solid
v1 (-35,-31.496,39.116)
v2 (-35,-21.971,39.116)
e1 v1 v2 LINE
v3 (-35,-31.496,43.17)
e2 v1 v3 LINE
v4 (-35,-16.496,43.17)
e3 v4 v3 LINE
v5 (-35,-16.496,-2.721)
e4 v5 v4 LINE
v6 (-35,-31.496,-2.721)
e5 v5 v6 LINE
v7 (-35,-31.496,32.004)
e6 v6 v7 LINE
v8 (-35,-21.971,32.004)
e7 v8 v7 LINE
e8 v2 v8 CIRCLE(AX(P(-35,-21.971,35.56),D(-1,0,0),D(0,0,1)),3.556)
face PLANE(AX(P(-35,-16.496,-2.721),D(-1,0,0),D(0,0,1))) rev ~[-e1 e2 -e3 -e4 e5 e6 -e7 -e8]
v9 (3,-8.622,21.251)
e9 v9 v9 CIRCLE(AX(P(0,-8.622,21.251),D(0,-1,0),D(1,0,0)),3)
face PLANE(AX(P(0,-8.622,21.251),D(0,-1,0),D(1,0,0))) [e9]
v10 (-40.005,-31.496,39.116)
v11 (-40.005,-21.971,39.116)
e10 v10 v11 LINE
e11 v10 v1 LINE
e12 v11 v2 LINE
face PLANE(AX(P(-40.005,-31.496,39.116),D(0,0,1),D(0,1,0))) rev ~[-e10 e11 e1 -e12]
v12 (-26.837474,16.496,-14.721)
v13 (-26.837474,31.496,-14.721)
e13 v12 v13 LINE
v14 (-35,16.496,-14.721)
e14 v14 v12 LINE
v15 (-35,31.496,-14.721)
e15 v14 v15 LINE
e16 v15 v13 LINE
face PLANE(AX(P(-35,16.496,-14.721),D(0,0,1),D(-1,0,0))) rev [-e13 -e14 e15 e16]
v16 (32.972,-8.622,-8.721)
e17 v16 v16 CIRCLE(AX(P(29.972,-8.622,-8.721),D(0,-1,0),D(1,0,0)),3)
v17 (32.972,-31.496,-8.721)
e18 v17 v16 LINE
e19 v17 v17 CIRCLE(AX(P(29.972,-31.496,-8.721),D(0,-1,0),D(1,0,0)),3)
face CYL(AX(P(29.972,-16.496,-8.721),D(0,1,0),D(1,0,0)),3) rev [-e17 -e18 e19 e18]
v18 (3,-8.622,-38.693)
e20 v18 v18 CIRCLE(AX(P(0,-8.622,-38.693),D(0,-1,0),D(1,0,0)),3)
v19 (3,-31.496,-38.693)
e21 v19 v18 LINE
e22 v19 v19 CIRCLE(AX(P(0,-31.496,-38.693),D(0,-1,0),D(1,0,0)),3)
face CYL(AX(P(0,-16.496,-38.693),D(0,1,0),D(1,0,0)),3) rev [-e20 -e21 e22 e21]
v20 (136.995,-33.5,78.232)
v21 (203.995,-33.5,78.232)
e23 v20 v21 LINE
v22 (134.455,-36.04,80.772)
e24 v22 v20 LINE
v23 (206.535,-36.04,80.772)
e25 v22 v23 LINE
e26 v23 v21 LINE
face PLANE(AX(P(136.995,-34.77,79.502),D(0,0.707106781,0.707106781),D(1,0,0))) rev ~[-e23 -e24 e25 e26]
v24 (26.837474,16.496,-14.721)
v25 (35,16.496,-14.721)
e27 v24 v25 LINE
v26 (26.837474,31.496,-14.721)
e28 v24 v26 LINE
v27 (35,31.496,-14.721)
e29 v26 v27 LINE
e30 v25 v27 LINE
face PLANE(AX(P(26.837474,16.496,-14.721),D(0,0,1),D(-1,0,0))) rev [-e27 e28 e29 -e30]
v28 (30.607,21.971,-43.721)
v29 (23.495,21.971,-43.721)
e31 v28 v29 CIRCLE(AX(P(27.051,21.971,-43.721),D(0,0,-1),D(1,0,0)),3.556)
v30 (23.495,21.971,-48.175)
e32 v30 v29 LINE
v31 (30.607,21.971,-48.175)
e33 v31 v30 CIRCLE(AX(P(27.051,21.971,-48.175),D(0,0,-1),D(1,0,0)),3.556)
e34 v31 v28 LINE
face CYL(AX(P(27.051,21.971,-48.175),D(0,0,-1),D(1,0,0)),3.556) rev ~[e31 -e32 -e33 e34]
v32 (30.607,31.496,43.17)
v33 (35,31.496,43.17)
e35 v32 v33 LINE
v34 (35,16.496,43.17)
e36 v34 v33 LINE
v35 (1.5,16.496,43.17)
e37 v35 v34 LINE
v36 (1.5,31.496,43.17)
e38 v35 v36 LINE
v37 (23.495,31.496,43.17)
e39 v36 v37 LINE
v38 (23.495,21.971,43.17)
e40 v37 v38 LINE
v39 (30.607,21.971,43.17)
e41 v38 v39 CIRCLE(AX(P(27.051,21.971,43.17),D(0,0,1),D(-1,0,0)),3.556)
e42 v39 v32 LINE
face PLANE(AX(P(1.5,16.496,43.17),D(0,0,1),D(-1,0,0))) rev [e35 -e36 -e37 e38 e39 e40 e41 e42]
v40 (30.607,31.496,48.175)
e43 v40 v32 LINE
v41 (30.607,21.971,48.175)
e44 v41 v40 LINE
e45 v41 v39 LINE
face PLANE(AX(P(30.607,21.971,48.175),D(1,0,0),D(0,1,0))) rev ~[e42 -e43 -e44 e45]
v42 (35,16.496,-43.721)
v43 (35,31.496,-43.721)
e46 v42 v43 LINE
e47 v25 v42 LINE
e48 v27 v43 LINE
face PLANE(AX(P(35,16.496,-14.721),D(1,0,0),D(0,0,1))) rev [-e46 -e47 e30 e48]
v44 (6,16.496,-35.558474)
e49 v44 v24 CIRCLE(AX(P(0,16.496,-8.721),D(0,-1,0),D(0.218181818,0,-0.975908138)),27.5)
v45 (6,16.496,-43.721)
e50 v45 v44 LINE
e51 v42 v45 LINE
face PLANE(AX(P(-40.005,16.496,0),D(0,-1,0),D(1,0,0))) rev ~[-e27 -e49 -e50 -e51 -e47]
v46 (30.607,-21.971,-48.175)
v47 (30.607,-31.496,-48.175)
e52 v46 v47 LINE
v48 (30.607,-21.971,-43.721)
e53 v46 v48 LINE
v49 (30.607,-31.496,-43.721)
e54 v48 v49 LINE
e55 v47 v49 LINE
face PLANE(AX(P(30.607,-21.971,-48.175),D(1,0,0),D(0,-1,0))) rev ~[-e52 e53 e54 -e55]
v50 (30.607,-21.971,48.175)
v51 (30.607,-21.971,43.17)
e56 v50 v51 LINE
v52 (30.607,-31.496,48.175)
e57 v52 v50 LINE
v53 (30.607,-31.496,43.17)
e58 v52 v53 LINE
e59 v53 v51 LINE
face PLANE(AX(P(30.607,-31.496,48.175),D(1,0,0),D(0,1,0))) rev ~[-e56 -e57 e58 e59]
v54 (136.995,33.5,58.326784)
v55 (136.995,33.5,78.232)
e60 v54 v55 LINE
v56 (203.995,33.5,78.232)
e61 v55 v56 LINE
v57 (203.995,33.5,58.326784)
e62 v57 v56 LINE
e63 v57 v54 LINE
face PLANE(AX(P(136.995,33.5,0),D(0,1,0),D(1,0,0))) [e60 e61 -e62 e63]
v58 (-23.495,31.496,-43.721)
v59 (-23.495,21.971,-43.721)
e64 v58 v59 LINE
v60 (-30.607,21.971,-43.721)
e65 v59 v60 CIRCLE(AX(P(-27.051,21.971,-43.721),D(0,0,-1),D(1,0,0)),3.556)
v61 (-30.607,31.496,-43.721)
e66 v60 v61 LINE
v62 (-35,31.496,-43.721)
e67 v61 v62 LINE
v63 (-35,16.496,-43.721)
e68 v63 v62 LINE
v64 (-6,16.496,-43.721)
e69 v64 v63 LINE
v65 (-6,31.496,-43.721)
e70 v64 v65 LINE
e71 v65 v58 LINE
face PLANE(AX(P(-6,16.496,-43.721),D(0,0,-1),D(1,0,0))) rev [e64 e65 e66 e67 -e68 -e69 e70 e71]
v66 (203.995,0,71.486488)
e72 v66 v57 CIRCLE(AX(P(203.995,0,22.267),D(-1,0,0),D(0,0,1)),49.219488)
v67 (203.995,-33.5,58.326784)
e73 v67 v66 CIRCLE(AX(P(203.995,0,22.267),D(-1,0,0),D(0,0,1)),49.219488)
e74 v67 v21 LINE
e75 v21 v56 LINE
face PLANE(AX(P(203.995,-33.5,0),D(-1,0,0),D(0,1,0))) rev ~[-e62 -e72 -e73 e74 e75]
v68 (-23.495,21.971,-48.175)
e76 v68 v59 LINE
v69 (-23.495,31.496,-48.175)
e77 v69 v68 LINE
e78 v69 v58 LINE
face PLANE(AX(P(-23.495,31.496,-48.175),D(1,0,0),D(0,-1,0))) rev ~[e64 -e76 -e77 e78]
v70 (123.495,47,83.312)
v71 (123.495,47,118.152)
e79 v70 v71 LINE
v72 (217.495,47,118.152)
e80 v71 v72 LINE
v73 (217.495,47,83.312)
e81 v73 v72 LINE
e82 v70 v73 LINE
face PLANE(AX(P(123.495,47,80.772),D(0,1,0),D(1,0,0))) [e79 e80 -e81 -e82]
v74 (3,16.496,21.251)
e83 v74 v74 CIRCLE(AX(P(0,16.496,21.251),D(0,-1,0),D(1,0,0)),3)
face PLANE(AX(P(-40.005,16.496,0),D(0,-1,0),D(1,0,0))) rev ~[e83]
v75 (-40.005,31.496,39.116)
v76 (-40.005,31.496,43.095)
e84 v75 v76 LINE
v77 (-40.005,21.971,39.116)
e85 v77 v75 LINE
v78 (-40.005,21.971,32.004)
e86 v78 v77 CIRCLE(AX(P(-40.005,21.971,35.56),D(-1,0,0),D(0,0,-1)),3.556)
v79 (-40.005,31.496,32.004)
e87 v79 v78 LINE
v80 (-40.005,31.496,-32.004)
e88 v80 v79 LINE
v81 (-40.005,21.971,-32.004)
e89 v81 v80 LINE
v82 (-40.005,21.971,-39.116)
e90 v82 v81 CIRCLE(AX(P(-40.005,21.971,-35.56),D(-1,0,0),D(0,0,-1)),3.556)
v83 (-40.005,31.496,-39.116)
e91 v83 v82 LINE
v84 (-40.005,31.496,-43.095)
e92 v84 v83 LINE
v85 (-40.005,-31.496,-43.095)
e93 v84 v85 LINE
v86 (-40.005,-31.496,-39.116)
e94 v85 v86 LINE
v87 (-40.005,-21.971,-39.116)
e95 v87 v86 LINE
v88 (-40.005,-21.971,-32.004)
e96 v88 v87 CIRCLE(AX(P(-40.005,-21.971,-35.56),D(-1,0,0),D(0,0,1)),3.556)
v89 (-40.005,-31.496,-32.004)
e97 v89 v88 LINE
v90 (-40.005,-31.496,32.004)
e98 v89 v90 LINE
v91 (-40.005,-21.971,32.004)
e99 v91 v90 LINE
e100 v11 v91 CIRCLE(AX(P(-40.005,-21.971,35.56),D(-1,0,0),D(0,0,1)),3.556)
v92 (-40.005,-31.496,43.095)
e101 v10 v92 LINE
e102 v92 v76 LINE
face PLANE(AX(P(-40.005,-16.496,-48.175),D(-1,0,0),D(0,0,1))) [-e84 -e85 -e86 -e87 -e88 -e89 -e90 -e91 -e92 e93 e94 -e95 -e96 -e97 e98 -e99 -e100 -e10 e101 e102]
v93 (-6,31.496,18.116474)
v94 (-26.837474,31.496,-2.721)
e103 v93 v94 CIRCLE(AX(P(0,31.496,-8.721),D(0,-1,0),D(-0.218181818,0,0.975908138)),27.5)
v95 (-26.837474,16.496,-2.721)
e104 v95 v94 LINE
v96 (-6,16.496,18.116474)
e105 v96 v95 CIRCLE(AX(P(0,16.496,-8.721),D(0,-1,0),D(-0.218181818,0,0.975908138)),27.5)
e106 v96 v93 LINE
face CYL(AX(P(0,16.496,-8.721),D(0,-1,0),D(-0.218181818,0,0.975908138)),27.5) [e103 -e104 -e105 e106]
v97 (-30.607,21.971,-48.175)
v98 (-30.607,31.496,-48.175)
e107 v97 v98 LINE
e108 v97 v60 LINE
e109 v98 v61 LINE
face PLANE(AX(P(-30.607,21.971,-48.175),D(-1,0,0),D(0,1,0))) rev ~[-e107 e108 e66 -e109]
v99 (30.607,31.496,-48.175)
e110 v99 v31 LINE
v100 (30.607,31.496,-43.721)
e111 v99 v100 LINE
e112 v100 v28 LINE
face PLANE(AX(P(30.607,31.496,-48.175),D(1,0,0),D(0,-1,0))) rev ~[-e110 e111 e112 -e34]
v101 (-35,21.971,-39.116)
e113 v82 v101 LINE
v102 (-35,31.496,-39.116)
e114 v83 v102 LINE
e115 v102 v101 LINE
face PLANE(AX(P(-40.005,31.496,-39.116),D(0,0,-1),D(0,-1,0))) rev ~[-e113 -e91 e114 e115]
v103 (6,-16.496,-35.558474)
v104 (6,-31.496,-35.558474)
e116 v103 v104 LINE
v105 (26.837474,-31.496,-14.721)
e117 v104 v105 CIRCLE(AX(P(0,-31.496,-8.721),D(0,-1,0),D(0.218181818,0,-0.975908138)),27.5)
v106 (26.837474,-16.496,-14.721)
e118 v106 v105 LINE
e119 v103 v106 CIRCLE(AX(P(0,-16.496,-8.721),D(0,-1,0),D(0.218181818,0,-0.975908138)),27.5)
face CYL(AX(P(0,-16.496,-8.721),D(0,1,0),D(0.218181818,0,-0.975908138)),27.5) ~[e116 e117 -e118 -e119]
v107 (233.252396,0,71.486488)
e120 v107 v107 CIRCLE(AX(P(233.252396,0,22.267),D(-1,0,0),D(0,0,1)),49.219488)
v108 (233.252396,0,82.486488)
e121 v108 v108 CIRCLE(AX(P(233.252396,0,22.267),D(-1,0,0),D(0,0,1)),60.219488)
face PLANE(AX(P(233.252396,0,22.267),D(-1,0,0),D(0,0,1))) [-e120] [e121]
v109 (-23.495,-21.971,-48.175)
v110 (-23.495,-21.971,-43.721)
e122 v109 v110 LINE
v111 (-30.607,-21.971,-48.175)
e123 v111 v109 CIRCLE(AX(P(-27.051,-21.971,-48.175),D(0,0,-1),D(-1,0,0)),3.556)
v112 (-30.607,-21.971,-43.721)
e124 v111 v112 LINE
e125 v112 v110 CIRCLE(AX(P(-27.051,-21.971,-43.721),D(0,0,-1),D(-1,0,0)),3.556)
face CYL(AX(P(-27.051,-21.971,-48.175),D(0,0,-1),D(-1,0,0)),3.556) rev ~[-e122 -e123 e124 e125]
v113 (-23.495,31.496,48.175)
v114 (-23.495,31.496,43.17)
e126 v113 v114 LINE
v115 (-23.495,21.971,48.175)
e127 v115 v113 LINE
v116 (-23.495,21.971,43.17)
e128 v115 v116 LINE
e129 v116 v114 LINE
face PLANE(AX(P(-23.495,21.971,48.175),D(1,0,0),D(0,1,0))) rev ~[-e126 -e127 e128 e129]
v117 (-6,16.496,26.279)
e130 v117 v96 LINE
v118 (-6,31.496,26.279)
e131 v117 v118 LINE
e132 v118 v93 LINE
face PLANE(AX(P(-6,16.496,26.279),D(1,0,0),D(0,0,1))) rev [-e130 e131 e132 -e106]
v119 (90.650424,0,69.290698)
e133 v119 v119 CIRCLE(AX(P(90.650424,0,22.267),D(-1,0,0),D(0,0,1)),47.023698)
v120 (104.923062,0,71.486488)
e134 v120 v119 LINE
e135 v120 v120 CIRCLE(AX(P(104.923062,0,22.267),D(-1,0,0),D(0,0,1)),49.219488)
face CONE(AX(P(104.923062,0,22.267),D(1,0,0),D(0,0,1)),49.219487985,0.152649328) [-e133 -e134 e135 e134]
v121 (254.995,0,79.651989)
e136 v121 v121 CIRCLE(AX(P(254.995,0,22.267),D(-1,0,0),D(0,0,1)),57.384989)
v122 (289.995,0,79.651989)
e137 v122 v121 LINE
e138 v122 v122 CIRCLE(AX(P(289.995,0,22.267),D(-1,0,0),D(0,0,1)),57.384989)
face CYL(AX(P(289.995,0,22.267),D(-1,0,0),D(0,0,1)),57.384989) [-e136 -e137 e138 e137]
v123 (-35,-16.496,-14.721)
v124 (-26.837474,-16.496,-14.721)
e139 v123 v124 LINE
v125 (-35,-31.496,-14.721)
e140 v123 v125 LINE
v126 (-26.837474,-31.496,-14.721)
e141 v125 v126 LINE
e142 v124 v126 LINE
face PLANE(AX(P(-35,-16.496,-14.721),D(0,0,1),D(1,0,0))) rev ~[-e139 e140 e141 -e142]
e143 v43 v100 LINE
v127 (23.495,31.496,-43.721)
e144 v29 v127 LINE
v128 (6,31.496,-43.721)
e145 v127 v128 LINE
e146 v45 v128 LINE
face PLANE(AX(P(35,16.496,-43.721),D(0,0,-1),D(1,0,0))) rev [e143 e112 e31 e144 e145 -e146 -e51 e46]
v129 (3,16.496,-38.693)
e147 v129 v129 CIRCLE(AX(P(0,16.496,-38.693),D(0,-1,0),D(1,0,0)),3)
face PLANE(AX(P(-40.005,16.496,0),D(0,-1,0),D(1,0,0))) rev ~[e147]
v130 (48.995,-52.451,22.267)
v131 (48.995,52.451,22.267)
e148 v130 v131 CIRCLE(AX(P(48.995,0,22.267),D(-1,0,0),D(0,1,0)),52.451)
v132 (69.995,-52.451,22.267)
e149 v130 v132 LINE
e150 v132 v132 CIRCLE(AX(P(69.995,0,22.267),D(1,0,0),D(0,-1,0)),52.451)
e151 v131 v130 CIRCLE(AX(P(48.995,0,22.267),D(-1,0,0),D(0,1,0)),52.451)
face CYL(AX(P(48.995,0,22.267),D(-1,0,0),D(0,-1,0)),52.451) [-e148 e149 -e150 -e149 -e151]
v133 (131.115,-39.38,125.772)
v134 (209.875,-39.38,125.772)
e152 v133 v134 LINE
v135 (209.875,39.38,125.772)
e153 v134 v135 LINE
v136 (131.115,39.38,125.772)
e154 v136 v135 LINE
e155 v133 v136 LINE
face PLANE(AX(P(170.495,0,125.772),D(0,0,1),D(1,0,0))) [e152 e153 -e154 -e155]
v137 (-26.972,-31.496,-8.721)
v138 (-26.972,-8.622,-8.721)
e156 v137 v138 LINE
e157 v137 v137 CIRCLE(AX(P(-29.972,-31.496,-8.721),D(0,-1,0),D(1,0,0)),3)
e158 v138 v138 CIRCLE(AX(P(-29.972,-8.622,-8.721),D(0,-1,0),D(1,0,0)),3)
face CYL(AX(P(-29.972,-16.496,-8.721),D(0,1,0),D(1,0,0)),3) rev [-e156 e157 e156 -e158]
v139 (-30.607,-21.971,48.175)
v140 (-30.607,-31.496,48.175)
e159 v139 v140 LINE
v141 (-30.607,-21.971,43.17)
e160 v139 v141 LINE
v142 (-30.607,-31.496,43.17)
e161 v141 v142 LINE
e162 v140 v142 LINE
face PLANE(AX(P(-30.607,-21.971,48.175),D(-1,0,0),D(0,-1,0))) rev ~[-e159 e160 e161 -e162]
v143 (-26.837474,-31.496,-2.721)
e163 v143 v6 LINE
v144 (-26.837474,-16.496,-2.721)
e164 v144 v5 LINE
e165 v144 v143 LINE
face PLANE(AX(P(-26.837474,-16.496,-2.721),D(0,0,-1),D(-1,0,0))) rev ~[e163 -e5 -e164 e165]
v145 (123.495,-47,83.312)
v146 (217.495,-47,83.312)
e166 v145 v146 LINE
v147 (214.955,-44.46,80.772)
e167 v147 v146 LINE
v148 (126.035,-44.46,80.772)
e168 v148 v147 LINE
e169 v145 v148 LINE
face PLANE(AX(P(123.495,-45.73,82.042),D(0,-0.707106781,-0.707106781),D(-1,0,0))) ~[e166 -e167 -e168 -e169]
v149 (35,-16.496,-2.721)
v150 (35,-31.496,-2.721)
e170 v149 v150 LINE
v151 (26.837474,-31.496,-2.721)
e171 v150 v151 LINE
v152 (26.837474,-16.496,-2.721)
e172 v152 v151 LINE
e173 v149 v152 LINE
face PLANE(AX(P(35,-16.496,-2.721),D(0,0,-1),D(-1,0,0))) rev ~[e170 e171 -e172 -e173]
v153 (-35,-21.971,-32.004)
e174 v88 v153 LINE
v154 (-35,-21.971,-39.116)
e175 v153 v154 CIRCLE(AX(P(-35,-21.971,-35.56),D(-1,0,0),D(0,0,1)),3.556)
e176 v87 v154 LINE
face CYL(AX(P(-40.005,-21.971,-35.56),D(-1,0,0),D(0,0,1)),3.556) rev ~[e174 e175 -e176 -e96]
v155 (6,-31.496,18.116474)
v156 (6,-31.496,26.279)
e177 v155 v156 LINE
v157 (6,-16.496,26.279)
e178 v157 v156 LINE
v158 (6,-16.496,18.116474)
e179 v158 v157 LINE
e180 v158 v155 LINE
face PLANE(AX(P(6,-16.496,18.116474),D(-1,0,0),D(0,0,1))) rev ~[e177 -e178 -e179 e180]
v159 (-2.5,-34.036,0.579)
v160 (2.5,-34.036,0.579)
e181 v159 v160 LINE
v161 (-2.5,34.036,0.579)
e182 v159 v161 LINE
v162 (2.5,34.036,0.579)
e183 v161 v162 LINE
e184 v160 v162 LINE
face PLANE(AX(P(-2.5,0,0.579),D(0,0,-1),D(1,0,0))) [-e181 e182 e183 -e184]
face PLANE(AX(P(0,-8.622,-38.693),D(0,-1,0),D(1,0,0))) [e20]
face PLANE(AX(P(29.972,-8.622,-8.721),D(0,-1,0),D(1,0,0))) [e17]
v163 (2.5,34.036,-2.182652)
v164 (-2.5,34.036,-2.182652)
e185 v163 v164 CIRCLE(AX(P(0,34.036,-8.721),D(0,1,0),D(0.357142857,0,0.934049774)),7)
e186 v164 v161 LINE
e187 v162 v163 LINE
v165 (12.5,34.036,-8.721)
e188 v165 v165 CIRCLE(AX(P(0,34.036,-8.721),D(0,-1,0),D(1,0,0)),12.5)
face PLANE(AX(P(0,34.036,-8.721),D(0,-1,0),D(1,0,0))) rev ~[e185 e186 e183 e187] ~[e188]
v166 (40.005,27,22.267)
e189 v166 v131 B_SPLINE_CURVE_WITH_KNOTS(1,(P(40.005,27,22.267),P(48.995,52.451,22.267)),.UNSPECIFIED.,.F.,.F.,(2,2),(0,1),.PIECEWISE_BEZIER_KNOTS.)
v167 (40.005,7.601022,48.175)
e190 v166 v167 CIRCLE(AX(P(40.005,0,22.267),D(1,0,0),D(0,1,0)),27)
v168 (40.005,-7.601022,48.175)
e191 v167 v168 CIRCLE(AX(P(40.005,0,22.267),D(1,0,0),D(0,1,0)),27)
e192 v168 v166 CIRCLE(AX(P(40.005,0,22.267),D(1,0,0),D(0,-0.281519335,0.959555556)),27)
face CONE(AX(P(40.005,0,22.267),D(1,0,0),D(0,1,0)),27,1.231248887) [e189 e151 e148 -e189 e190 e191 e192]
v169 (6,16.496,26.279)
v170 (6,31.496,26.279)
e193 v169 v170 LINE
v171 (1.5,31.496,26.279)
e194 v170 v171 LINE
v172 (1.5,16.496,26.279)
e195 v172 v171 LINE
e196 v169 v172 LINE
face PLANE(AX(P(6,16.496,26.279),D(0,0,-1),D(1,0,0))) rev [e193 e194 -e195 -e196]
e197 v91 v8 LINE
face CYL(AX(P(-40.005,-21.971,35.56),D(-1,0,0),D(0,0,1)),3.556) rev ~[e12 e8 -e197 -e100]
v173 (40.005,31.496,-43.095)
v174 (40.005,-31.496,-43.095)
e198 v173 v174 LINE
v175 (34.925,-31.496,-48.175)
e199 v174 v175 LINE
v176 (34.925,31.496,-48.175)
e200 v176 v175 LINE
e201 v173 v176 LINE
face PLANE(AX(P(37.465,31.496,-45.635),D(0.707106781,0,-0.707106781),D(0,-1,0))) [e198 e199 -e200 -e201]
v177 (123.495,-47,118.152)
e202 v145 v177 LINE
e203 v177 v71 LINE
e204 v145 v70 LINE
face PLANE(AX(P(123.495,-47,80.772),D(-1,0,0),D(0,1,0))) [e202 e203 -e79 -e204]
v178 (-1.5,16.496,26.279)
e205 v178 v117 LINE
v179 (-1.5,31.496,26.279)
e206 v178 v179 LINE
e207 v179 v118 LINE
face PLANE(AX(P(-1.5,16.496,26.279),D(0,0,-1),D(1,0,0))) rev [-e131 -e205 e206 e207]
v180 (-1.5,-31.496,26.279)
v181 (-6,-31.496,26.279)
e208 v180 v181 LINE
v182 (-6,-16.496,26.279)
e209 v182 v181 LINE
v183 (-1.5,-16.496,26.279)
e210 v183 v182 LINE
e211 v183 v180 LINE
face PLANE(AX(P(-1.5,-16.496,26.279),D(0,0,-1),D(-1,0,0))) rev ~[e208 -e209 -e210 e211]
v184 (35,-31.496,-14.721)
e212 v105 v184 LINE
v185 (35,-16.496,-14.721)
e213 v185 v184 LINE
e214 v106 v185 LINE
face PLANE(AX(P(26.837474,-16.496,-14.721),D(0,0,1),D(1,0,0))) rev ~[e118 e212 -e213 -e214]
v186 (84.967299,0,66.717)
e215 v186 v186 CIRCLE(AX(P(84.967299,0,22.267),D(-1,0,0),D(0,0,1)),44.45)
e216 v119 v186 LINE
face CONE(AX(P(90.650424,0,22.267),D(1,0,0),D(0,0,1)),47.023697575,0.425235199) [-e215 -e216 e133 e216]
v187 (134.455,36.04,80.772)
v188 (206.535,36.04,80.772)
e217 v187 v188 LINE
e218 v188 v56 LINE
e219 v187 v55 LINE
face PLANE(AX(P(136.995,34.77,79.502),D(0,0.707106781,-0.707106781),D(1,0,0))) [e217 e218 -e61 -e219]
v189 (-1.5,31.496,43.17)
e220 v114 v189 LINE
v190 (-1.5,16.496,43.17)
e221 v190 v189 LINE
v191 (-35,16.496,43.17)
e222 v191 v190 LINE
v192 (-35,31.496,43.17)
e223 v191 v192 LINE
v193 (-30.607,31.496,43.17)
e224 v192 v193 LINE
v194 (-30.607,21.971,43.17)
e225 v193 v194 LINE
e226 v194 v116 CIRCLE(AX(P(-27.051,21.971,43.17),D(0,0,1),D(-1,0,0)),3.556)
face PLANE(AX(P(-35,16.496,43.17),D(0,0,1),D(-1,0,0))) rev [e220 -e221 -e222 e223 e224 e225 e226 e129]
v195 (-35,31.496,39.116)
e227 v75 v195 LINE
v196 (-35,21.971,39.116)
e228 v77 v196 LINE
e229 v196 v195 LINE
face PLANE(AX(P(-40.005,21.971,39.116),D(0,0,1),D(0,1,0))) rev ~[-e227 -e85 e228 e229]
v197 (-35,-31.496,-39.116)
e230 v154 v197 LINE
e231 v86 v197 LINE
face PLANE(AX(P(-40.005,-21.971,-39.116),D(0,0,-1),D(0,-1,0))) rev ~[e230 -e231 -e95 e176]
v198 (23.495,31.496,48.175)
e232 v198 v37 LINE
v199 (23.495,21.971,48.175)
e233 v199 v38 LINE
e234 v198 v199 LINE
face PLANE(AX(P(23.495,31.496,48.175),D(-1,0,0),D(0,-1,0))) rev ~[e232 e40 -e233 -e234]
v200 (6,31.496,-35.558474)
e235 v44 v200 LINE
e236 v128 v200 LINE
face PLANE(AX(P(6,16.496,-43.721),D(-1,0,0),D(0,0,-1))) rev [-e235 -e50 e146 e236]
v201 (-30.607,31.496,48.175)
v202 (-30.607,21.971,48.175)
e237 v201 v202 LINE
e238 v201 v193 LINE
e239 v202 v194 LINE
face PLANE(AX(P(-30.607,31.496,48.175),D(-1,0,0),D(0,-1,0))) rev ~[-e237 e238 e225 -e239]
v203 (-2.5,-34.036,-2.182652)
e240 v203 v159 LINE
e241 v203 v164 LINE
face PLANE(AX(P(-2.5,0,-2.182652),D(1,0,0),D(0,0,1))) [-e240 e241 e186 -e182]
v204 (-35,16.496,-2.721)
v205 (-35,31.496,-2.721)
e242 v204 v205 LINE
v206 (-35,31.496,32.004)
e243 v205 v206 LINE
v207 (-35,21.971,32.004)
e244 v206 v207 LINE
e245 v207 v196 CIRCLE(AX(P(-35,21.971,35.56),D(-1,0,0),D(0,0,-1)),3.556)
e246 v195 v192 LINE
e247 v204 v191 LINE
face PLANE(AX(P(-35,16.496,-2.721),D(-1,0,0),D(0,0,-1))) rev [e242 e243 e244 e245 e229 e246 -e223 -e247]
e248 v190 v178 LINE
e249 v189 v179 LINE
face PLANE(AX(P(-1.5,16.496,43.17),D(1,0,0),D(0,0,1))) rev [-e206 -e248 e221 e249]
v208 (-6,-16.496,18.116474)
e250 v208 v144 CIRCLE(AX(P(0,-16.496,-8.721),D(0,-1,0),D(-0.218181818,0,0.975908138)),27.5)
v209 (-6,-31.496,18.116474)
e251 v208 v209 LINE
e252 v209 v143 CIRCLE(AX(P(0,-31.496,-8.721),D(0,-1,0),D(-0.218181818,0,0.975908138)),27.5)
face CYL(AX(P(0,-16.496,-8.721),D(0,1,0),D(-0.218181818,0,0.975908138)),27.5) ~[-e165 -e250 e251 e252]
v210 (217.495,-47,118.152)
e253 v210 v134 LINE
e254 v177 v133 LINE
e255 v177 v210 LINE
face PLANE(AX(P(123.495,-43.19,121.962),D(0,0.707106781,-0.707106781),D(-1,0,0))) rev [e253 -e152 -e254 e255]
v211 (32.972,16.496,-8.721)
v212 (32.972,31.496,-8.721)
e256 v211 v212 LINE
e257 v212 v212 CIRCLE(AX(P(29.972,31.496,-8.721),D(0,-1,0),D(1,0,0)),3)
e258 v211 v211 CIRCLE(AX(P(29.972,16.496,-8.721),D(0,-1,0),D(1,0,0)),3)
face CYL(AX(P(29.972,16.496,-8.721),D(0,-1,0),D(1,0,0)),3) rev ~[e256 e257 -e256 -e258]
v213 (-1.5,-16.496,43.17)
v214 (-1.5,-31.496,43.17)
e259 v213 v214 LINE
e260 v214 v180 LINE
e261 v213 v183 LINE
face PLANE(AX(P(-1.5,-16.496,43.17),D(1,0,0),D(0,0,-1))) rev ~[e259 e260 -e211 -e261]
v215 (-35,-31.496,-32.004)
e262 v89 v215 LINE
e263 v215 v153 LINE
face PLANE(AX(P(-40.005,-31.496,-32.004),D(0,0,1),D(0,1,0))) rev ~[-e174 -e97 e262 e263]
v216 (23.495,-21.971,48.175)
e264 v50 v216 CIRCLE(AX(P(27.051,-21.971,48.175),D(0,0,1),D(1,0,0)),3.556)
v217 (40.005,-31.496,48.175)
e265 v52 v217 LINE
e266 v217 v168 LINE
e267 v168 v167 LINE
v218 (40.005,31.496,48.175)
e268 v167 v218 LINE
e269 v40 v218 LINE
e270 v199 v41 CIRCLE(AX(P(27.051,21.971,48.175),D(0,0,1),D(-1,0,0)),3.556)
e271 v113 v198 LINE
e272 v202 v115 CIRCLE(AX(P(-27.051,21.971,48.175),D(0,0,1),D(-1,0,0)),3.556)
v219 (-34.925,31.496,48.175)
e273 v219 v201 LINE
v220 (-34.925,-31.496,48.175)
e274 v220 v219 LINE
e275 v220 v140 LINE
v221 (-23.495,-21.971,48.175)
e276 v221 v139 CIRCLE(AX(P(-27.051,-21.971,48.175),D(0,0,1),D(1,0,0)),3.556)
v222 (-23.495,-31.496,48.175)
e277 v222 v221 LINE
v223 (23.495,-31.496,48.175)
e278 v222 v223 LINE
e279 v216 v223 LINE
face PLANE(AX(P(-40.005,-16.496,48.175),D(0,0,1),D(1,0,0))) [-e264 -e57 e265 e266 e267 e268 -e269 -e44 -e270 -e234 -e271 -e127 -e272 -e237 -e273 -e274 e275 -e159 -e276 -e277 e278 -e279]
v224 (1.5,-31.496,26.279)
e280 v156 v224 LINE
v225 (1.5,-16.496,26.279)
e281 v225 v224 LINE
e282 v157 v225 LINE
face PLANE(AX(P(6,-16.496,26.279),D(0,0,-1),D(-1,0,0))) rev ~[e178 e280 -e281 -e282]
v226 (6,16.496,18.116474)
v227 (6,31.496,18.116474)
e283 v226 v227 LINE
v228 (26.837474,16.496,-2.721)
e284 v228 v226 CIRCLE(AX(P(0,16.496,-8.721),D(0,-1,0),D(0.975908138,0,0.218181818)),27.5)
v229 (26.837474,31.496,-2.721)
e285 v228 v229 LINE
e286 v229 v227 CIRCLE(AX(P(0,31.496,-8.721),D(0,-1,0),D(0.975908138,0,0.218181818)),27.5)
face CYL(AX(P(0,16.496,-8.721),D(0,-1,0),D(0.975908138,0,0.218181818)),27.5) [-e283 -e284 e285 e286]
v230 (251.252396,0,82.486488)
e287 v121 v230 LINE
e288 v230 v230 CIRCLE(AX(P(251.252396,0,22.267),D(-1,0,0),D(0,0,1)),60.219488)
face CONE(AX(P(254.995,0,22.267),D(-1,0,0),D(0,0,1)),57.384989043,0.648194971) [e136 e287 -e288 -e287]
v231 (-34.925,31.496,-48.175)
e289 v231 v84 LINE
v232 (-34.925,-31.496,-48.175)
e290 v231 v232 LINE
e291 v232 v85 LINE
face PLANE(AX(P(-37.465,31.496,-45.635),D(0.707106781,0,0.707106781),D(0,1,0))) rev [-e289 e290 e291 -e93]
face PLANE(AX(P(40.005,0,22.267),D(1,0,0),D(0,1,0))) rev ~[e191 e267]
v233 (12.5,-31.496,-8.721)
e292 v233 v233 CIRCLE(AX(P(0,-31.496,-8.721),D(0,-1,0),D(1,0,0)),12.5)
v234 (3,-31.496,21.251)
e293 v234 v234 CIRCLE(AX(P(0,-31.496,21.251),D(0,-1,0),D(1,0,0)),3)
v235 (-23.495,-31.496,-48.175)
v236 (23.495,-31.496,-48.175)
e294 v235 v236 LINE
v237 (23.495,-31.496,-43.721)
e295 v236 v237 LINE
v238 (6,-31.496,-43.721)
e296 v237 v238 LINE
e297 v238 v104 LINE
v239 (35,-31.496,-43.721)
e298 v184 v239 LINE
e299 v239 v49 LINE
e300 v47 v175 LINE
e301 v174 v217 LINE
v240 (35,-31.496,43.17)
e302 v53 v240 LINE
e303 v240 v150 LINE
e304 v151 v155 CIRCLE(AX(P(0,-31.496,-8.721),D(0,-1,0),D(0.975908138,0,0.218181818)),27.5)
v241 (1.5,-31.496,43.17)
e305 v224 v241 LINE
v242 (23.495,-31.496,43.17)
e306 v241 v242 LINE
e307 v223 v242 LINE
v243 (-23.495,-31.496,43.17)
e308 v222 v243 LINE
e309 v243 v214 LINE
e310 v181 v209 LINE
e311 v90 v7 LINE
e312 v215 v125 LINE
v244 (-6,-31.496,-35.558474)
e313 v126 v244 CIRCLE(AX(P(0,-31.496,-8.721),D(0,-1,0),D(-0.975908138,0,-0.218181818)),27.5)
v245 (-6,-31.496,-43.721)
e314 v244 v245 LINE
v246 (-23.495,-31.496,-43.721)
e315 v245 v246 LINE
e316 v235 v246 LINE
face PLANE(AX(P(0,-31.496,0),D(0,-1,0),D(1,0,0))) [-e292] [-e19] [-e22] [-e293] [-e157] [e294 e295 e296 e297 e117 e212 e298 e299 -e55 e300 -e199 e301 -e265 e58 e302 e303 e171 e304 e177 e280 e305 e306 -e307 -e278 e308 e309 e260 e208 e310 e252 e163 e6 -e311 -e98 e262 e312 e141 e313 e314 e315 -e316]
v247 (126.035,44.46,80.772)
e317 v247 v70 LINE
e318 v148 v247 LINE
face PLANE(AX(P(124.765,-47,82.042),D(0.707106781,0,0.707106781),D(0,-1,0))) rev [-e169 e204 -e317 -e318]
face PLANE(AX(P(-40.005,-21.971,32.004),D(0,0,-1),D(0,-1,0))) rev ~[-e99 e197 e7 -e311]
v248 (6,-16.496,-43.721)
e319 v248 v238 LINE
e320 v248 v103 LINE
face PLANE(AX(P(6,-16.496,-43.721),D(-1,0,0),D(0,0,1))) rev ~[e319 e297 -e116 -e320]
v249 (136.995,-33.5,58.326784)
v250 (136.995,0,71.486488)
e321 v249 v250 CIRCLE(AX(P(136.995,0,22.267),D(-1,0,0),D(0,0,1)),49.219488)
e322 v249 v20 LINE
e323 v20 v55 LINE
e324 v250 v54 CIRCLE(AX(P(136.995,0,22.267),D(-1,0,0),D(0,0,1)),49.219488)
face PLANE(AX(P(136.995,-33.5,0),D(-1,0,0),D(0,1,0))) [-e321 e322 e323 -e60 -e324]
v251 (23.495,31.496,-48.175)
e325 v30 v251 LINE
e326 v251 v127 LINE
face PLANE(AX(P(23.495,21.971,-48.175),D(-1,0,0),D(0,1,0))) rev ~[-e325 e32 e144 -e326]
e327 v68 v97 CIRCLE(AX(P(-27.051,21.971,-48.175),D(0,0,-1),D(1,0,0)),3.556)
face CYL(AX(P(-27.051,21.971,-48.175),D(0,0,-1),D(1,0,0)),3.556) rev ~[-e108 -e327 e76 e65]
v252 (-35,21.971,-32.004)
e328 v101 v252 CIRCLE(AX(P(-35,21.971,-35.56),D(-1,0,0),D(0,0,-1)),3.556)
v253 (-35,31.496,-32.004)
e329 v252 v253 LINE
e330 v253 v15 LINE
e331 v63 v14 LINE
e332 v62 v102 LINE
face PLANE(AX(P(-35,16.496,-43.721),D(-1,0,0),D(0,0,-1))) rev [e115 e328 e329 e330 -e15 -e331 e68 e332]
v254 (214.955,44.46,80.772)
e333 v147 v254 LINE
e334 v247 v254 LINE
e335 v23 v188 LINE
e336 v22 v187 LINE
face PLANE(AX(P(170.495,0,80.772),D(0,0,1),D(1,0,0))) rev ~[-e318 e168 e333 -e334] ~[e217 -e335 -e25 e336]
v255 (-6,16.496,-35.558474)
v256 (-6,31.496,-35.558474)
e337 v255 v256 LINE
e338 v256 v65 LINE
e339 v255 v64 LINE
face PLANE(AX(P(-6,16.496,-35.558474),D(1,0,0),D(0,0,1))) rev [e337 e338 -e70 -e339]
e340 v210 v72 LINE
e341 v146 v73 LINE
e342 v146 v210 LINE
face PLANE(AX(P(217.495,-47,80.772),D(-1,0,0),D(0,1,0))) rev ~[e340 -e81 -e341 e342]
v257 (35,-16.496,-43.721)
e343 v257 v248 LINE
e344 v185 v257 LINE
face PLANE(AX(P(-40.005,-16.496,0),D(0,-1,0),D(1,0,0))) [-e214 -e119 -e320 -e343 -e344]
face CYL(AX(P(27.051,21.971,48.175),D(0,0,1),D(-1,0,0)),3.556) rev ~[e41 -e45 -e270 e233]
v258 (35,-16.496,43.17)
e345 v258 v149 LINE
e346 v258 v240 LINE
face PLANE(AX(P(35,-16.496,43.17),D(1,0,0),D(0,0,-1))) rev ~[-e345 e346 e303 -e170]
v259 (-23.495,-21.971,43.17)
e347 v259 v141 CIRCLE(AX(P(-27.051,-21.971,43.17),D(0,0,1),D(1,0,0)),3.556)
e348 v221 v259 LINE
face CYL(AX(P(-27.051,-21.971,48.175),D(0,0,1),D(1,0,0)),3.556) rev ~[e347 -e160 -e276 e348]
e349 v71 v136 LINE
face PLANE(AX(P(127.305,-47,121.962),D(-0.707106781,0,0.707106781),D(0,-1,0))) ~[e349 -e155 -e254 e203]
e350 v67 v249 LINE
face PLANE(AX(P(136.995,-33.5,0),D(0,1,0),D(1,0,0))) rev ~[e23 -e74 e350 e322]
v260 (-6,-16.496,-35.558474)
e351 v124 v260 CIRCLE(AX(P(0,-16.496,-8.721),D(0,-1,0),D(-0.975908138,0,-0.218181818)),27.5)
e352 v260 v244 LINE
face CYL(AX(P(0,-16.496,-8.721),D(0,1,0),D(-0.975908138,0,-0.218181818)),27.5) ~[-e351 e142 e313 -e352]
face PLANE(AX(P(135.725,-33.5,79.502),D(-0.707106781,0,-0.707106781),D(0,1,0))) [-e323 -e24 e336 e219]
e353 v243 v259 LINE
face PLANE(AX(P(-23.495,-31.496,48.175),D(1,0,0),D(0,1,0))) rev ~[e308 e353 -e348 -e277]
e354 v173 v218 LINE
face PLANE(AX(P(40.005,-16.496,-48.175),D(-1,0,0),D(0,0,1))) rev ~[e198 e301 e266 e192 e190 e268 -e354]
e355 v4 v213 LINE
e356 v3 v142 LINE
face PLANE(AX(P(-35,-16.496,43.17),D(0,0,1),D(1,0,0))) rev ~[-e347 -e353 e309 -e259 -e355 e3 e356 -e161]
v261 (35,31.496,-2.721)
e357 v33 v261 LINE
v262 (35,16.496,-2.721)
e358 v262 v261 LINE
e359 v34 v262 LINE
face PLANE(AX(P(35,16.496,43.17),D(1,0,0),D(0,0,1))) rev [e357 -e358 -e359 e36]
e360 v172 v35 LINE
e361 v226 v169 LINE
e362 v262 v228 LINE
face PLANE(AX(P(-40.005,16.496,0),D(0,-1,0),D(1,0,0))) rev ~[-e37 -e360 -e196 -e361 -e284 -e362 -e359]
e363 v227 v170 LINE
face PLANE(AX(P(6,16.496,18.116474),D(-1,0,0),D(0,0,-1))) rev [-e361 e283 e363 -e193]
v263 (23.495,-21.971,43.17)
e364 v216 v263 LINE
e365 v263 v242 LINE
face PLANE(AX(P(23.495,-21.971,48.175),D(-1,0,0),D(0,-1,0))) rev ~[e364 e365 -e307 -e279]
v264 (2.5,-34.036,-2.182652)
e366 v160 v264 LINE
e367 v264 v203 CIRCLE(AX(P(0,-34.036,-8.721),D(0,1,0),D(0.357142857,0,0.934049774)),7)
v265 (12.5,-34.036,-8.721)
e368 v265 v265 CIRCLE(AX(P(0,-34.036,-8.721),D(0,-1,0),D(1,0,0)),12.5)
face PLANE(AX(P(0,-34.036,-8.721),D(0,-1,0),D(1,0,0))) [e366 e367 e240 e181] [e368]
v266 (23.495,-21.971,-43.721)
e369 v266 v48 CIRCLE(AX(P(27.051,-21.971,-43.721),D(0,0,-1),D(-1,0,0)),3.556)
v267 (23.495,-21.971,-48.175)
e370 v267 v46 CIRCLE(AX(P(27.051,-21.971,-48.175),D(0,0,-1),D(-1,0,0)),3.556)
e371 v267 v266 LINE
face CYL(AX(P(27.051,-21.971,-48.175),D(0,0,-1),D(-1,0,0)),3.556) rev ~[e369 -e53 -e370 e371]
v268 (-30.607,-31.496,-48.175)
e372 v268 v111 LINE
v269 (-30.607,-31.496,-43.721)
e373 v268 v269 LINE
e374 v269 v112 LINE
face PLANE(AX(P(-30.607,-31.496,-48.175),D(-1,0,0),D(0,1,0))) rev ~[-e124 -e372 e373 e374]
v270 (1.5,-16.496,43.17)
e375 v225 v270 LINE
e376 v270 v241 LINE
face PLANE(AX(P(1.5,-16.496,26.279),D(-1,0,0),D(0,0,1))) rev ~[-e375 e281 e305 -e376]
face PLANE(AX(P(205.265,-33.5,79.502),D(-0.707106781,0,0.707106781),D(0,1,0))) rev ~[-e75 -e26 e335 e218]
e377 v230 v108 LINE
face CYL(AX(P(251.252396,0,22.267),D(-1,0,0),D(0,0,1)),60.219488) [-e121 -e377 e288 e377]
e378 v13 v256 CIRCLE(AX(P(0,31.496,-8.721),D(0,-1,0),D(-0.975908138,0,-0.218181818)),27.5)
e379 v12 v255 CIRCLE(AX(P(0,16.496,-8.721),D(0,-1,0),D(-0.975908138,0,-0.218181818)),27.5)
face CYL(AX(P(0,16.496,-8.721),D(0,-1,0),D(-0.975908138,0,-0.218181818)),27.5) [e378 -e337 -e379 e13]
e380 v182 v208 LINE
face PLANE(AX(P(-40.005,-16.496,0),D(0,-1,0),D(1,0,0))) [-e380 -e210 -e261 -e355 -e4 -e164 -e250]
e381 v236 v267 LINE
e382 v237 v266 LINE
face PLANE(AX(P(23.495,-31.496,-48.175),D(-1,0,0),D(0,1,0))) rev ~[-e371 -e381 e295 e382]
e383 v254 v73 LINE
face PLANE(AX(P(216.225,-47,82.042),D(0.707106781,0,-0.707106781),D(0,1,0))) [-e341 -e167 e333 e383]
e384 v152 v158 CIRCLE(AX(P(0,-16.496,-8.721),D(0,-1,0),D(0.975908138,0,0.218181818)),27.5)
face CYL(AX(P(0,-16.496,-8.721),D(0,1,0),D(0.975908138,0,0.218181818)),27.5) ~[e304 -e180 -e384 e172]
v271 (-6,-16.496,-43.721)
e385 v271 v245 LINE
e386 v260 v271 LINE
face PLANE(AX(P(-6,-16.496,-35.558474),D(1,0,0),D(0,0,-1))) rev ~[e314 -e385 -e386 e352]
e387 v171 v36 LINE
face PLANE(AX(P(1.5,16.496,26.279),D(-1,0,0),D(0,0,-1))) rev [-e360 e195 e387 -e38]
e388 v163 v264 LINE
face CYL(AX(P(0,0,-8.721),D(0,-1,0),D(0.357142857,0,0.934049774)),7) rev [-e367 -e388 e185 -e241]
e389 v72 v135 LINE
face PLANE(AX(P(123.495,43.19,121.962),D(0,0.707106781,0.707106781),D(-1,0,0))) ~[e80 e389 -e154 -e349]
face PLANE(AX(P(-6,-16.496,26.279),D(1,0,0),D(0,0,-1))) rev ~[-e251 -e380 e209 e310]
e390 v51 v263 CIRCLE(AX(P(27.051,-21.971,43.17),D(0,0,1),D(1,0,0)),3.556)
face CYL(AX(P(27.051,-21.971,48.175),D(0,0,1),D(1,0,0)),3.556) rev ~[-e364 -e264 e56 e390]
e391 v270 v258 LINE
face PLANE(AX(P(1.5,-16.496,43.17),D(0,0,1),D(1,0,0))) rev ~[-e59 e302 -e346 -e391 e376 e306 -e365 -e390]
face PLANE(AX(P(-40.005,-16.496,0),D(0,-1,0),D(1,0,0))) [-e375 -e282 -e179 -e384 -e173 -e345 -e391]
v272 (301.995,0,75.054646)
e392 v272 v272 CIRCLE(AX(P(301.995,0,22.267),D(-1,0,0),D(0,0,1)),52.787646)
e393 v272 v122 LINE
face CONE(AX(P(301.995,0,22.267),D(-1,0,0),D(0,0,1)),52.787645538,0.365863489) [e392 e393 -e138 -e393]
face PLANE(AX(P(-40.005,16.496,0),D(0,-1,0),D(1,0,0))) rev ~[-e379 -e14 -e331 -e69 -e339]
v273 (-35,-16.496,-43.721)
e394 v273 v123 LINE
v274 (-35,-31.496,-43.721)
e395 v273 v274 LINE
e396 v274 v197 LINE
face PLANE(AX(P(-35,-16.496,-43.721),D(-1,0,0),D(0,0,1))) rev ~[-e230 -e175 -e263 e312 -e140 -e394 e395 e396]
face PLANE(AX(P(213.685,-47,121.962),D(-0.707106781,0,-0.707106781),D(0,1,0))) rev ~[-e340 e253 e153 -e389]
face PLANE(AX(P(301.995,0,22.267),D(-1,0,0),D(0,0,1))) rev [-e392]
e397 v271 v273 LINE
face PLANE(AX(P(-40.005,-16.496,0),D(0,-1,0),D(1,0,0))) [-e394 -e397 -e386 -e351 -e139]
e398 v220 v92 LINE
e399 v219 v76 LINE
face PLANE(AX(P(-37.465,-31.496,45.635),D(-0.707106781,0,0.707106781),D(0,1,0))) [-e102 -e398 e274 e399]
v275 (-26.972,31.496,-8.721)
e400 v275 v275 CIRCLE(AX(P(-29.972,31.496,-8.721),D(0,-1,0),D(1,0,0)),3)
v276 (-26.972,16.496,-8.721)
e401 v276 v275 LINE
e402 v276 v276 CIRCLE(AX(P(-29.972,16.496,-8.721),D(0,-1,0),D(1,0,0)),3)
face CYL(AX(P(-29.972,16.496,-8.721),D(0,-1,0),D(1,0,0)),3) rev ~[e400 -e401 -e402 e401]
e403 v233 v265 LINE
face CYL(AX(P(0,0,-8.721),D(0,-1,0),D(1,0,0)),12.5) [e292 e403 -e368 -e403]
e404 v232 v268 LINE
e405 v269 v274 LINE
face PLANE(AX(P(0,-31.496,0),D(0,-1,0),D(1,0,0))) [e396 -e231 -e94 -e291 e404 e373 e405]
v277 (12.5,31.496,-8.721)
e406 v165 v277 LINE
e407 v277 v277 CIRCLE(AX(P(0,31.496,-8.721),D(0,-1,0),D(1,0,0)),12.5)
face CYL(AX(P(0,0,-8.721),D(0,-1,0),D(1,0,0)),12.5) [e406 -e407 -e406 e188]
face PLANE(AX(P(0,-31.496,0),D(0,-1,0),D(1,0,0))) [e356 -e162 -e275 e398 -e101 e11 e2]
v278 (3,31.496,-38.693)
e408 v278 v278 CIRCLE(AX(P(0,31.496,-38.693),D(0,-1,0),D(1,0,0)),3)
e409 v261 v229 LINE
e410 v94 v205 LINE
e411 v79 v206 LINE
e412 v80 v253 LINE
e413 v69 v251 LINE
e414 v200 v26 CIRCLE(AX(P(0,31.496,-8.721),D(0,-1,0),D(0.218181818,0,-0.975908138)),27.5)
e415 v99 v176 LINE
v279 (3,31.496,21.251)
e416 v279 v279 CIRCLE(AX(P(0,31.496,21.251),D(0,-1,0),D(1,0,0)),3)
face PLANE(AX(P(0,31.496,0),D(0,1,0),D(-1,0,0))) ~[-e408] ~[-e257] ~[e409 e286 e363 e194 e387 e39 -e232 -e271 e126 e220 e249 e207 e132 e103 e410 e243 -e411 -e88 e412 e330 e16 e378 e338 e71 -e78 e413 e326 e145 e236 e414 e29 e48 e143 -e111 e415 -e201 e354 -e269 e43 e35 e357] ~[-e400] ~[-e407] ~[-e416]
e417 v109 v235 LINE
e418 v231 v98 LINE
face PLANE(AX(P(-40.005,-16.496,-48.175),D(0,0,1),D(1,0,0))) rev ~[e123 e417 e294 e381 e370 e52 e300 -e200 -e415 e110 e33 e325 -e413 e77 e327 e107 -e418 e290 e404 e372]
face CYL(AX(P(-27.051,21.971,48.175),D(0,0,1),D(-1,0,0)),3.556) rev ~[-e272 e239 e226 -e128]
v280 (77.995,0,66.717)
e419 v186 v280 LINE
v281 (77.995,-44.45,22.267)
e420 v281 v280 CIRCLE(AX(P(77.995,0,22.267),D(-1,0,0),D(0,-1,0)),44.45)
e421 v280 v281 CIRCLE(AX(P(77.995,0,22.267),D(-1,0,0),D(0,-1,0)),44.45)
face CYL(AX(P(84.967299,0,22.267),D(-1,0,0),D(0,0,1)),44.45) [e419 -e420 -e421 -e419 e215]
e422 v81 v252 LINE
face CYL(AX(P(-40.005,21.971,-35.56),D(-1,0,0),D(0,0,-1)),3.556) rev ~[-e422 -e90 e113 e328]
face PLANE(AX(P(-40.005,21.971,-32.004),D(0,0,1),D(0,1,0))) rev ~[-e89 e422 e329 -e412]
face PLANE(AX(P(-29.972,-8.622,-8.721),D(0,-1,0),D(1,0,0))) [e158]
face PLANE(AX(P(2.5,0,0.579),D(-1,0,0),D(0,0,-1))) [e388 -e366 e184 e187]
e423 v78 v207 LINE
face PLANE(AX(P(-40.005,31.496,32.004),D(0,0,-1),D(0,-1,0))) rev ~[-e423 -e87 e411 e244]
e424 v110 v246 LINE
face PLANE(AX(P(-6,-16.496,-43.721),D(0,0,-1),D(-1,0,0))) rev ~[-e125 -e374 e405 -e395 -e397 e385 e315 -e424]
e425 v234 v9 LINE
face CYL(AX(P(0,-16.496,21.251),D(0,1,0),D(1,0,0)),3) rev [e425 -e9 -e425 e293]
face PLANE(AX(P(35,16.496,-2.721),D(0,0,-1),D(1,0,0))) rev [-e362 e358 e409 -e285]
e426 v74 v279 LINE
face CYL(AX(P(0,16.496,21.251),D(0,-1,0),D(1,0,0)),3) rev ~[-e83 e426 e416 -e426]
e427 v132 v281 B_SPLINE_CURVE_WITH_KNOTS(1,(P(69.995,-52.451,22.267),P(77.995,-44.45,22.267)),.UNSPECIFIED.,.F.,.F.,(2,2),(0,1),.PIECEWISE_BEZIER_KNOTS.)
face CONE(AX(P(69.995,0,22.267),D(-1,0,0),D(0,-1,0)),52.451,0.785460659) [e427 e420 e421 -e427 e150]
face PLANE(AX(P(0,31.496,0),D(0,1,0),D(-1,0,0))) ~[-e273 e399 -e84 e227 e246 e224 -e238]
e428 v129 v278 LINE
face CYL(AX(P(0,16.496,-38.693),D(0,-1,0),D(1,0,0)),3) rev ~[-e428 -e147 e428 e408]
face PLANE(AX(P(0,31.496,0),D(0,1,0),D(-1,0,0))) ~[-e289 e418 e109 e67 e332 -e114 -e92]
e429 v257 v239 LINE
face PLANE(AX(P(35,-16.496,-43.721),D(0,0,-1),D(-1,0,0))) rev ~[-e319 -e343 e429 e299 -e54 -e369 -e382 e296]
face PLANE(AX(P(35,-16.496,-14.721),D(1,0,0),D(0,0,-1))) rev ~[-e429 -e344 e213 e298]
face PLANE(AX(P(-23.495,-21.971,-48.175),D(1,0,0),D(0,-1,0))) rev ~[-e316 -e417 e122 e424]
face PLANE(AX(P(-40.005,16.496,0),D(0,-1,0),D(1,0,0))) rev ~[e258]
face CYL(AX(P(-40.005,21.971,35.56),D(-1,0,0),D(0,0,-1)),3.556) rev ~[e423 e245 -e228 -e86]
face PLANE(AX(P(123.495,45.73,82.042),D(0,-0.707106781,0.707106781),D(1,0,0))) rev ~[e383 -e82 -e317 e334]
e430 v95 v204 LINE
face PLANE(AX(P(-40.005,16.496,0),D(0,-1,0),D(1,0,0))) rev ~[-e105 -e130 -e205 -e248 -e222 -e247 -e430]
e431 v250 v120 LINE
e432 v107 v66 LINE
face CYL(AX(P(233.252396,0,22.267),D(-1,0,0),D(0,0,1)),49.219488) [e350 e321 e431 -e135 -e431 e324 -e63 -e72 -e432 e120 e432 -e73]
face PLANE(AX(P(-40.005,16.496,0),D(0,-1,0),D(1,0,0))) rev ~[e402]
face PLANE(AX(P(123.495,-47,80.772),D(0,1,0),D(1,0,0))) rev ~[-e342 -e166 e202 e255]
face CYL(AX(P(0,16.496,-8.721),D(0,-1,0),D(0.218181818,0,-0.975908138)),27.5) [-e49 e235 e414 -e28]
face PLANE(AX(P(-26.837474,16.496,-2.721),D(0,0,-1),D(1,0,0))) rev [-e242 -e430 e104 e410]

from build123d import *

# Parameters (mm, degrees)
F0_W       = 80.01
F0_H       = 32.992
F1_DEPTH   = 48.175
F3_DEPTH   = 32.992
F4_R       = 12.5
F5_DEPTH   = 34.036
F6_R       = 3
F7_DEPTH   = 7.874
F8_W       = 80.01
F8_H       = 96.35
F8_R       = 3
F8_R_2     = 12.5
F9_DEPTH   = 15
F12_DEPTH  = 5.005
F14_DEPTH  = 4.454
F16_DEPTH  = 5.005
F17_R      = 27
F19_R      = 52.451
F21_DEPTH  = 21
F21_FACE_R = 52.451
F23_R      = 44.45
F27_W      = 67
F27_H      = 67
F28_DEPTH  = 80.772
F29_W      = 94
F29_H      = 94
F30_DEPTH  = 45
F31_SIZE   = 7.62
F32_SIZE   = 2.54
F33_SIZE   = 5.08


with BuildPart() as f1:
    # F0 (on Top) → F1 (new body, symmetric)
    with BuildSketch(Plane.XY):
        Rectangle(F0_W, F0_H)
    extrude(amount=F1_DEPTH, both=True)

    # F2 (on face) → F3 (cut, through all)
    with BuildSketch(Plane.XZ.offset(16.496)):
        with BuildLine():
            Line((-2.5, 0.579), (-2.5, -2.1826515847))
            ThreePointArc((-2.5, -2.1826515847), (0, -15.721), (2.5, -2.1826515847))
            Line((2.5, -2.1826515847), (2.5, 0.579))
            Line((2.5, 0.579), (-2.5, 0.579))
        make_face()
    extrude(amount=-F3_DEPTH, mode=Mode.SUBTRACT)

    # F4 (on Front) → F5 (join, symmetric)
    with BuildSketch(Plane.XZ):
        with Locations((0, -8.721)):
            Circle(F4_R)
        with BuildLine():
            ThreePointArc((2.5, -2.1826515847), (0, -15.721), (-2.5, -2.1826515847))
            Line((-2.5, -2.1826515847), (-2.5, 0.579))
            Line((-2.5, 0.579), (2.5, 0.579))
            Line((2.5, 0.579), (2.5, -2.1826515847))
        make_face(mode=Mode.SUBTRACT)
    extrude(amount=F5_DEPTH, both=True)

    # F6 (on face) → F7 (cut)
    with BuildSketch(Plane.XZ.offset(16.496)):
        with Locations((0, 21.251)):
            Circle(F6_R)
        with Locations((-29.972, -8.721)):
            Circle(F6_R)
        with Locations((0, -38.693)):
            Circle(F6_R)
        with Locations((29.972, -8.721)):
            Circle(F6_R)
    extrude(amount=-F7_DEPTH, mode=Mode.SUBTRACT)

    # F10: F9 across plane


with BuildPart() as f9:
    # F8 (on face) → F9 (new body)
    with BuildSketch(Plane.XZ.offset(16.496)):
        Rectangle(F8_W, F8_H)
        Polygon((-1.5, 43.17), (-1.5, 26.279), (1.5, 26.279), (1.5, 43.17), (35, 43.17), (35, -2.721), (35, -14.721), (35, -43.721), (6, -43.721), (-6, -43.721), (-35, -43.721), (-35, -14.721), (-35, -2.721), (-35, 43.17), align=None, mode=Mode.SUBTRACT)
        with BuildLine():
            Line((-6, 26.279), (-6, 18.1164738006))
            ThreePointArc((-6, 18.1164738006), (-19.4454364826, 10.7244364826), (-26.8374738006, -2.721))
            Line((-26.8374738006, -2.721), (-35, -2.721))
            Line((-35, -2.721), (-35, -14.721))
            Line((-35, -14.721), (-26.8374738006, -14.721))
            ThreePointArc((-26.8374738006, -14.721), (-19.4454364826, -28.1664364826), (-6, -35.5584738006))
            Line((-6, -35.5584738006), (-6, -43.721))
            Line((-6, -43.721), (6, -43.721))
            Line((6, -43.721), (6, -35.5584738006))
            ThreePointArc((6, -35.5584738006), (19.4454364826, -28.1664364826), (26.8374738006, -14.721))
            Line((26.8374738006, -14.721), (35, -14.721))
            Line((35, -14.721), (35, -2.721))
            Line((35, -2.721), (26.8374738006, -2.721))
            ThreePointArc((26.8374738006, -2.721), (19.4454364826, 10.7244364826), (6, 18.1164738006))
            Line((6, 18.1164738006), (6, 26.279))
            Line((6, 26.279), (1.5, 26.279))
            Line((1.5, 26.279), (-1.5, 26.279))
            Line((-1.5, 26.279), (-6, 26.279))
        make_face()
        with Locations((-29.972, -8.721)):
            Circle(F8_R, mode=Mode.SUBTRACT)
        with Locations((0, -38.693)):
            Circle(F8_R, mode=Mode.SUBTRACT)
        with Locations((0, -8.721)):
            Circle(F8_R_2, mode=Mode.SUBTRACT)
        with Locations((29.972, -8.721)):
            Circle(F8_R, mode=Mode.SUBTRACT)
        with Locations((0, 21.251)):
            Circle(F8_R, mode=Mode.SUBTRACT)
    extrude(amount=F9_DEPTH)


with BuildPart() as f1_1:
    add(f1.part)
    add(f9.part.mirror(Plane.XZ))


with BuildPart() as f12_tool:
    # F11 (on face) → F12 (new body, through all)
    with BuildSketch(Plane.XY.offset(48.175)):
        with BuildLine():
            Line((-30.607, -21.971), (-30.607, -31.496))
            Line((-30.607, -31.496), (-23.495, -31.496))
            Line((-23.495, -31.496), (-23.495, -21.971))
            ThreePointArc((-23.495, -21.971), (-27.051, -18.415), (-30.607, -21.971))
        make_face()
        with BuildLine():
            Line((30.607, -31.496), (30.607, -21.971))
            ThreePointArc((30.607, -21.971), (27.051, -18.415), (23.495, -21.971))
            Line((23.495, -21.971), (23.495, -31.496))
            Line((23.495, -31.496), (30.607, -31.496))
        make_face()
        with BuildLine():
            Line((-30.607, 31.496), (-30.607, 21.971))
            ThreePointArc((-30.607, 21.971), (-27.051, 18.415), (-23.495, 21.971))
            Line((-23.495, 21.971), (-23.495, 31.496))
            Line((-23.495, 31.496), (-30.607, 31.496))
        make_face()
        with BuildLine():
            Line((30.607, 21.971), (30.607, 31.496))
            Line((30.607, 31.496), (23.495, 31.496))
            Line((23.495, 31.496), (23.495, 21.971))
            ThreePointArc((23.495, 21.971), (27.051, 18.415), (30.607, 21.971))
        make_face()
    extrude(amount=-F12_DEPTH)


with BuildPart() as f1_2:
    add(f1_1.part)

    # F12: cut by f12_tool
    add(f12_tool.part, mode=Mode.SUBTRACT)


with BuildPart() as f9_1:
    add(f9.part)

    # F12: cut by f12_tool
    add(f12_tool.part, mode=Mode.SUBTRACT)


with BuildPart() as f14_tool:
    # F13 (on face) → F14 (new body, through all)
    with BuildSketch(Plane(origin=(0, 0, -48.175), x_dir=(1, 0, 0), z_dir=(0, 0, -1))):
        with BuildLine():
            ThreePointArc((-30.607, 21.971), (-27.051, 18.415), (-23.495, 21.971))
            Line((-23.495, 21.971), (-23.495, 31.496))
            Line((-23.495, 31.496), (-30.607, 31.496))
            Line((-30.607, 31.496), (-30.607, 21.971))
        make_face()
        with BuildLine():
            Line((23.495, 31.496), (23.495, 21.971))
            ThreePointArc((23.495, 21.971), (27.051, 18.415), (30.607, 21.971))
            Line((30.607, 21.971), (30.607, 31.496))
            Line((30.607, 31.496), (23.495, 31.496))
        make_face()
        with BuildLine():
            ThreePointArc((30.607, -21.971), (27.051, -18.415), (23.495, -21.971))
            Line((23.495, -21.971), (23.495, -31.496))
            Line((23.495, -31.496), (30.607, -31.496))
            Line((30.607, -31.496), (30.607, -21.971))
        make_face()
        with BuildLine():
            Line((-30.607, -21.971), (-30.607, -31.496))
            Line((-30.607, -31.496), (-23.495, -31.496))
            Line((-23.495, -31.496), (-23.495, -21.971))
            ThreePointArc((-23.495, -21.971), (-27.051, -18.415), (-30.607, -21.971))
        make_face()
    extrude(amount=-F14_DEPTH)


with BuildPart() as f1_3:
    add(f1_2.part)

    # F14: cut by f14_tool
    add(f14_tool.part, mode=Mode.SUBTRACT)


with BuildPart() as f9_2:
    add(f9_1.part)

    # F14: cut by f14_tool
    add(f14_tool.part, mode=Mode.SUBTRACT)


with BuildPart() as f16_tool:
    # F15 (on face) → F16 (new body, through all)
    with BuildSketch(Plane(origin=(-40.005, 0, 0), x_dir=(0, -1, 0), z_dir=(-1, 0, 0))):
        with BuildLine():
            Line((31.496, 32.004), (31.496, 39.116))
            Line((31.496, 39.116), (21.971, 39.116))
            ThreePointArc((21.971, 39.116), (18.415, 35.56), (21.971, 32.004))
            Line((21.971, 32.004), (31.496, 32.004))
        make_face()
        with BuildLine():
            ThreePointArc((-21.971, 32.004), (-18.415, 35.56), (-21.971, 39.116))
            Line((-21.971, 39.116), (-31.496, 39.116))
            Line((-31.496, 39.116), (-31.496, 32.004))
            Line((-31.496, 32.004), (-21.971, 32.004))
        make_face()
        with BuildLine():
            Line((-31.496, -32.004), (-31.496, -39.116))
            Line((-31.496, -39.116), (-21.971, -39.116))
            ThreePointArc((-21.971, -39.116), (-18.415, -35.56), (-21.971, -32.004))
            Line((-21.971, -32.004), (-31.496, -32.004))
        make_face()
        with BuildLine():
            ThreePointArc((21.971, -32.004), (18.415, -35.56), (21.971, -39.116))
            Line((21.971, -39.116), (31.496, -39.116))
            Line((31.496, -39.116), (31.496, -32.004))
            Line((31.496, -32.004), (21.971, -32.004))
        make_face()
    extrude(amount=-F16_DEPTH)


with BuildPart() as f1_4:
    add(f1_3.part)

    # F16: cut by f16_tool
    add(f16_tool.part, mode=Mode.SUBTRACT)



with BuildPart() as f9_3:
    add(f9_2.part)

    # F16: cut by f16_tool
    add(f16_tool.part, mode=Mode.SUBTRACT)


with BuildPart() as f1_5:
    add(f1_4.part)

    add(f9_3.part)  # F20 merges F9
    # F17 (on face) → F20 section 0
    with BuildSketch(Plane.YZ.offset(40.005)):
        with Locations((0, 22.267)):
            Circle(F17_R)
    # F19 (on offset) → F20 section 1
    with BuildSketch(Plane(origin=(48.995, 0, 0), x_dir=(0, -1, 0), z_dir=(-1, 0, 0))):
        with Locations((0, 22.267)):
            Circle(F19_R)
    loft()

    # F19 (on offset) → F21 (join)
    with BuildSketch(Plane(origin=(48.995, 0, 0), x_dir=(0, -1, 0), z_dir=(-1, 0, 0))):
        with Locations((0, 22.267)):
            Circle(F19_R)
    extrude(amount=-F21_DEPTH)

    # F21_face (on face) → F24 section 0
    with BuildSketch(Plane(origin=(69.995, 0, 22.267), x_dir=(0, -1, 0), z_dir=(1, 0, 0))):
        Circle(F21_FACE_R)
    # F23 (on offset) → F24 section 1
    with BuildSketch(Plane.YZ.offset(77.995)):
        with Locations((0, 22.267)):
            Circle(F23_R)
    loft()

    # F25 (on Front) → F26 (revolve)
    with BuildSketch(Plane.XZ):
        Polygon((84.9672986563, 66.717), (77.995, 66.717), (77.995, 22.267), (301.995, 22.267), (301.995, 75.0546455383), (289.995, 79.6519890428), (254.995, 79.6519890428), (251.252396116, 82.4864879847), (233.252396116, 82.4864879847), (233.252396116, 71.4864879847), (104.9230620265, 71.4864879847), (90.6504243612, 69.2906975746), align=None)
    revolve(axis=Axis((189.995, 0, 22.267), (-1, 0, 0)))

    # F27 (on Top) → F28 (join)
    with BuildSketch(Plane.XY):
        with Locations((170.495, 0)):
            Rectangle(F27_W, F27_H)
    extrude(amount=F28_DEPTH)

    # F29 (on face) → F30 (join)
    with BuildSketch(Plane.XY.offset(80.772)):
        with Locations((170.495, 0)):
            Rectangle(F29_W, F29_H)
    extrude(amount=F30_DEPTH)

    # F31
    f31_edges = [f1_5.edges().sort_by_distance(p)[0] for p in [
        (170.495, 47, 125.772),
        (123.495, 0, 125.772),
        (170.495, -47, 125.772),
        (217.495, 0, 125.772),
    ]]
    chamfer(f31_edges, length=F31_SIZE)

    # F32
    f32_edges = [f1_5.edges().sort_by_distance(p)[0] for p in [
        (170.495, 47, 80.772),
        (217.495, 0, 80.772),
        (123.495, 0, 80.772),
        (170.495, -47, 80.772),
        (203.995, 0, 80.772),
        (170.495, 33.5, 80.772),
        (136.995, 0, 80.772),
        (170.495, -33.5, 80.772),
    ]]
    chamfer(f32_edges, length=F32_SIZE)

    # F33
    f33_edges = [f1_5.edges().sort_by_distance(p)[0] for p in [
        (-40.005, 0, 48.175),
        (-40.005, 0, -48.175),
        (40.005, 0, -48.175),
    ]]
    chamfer(f33_edges, length=F33_SIZE)


solid = f1_5.part
